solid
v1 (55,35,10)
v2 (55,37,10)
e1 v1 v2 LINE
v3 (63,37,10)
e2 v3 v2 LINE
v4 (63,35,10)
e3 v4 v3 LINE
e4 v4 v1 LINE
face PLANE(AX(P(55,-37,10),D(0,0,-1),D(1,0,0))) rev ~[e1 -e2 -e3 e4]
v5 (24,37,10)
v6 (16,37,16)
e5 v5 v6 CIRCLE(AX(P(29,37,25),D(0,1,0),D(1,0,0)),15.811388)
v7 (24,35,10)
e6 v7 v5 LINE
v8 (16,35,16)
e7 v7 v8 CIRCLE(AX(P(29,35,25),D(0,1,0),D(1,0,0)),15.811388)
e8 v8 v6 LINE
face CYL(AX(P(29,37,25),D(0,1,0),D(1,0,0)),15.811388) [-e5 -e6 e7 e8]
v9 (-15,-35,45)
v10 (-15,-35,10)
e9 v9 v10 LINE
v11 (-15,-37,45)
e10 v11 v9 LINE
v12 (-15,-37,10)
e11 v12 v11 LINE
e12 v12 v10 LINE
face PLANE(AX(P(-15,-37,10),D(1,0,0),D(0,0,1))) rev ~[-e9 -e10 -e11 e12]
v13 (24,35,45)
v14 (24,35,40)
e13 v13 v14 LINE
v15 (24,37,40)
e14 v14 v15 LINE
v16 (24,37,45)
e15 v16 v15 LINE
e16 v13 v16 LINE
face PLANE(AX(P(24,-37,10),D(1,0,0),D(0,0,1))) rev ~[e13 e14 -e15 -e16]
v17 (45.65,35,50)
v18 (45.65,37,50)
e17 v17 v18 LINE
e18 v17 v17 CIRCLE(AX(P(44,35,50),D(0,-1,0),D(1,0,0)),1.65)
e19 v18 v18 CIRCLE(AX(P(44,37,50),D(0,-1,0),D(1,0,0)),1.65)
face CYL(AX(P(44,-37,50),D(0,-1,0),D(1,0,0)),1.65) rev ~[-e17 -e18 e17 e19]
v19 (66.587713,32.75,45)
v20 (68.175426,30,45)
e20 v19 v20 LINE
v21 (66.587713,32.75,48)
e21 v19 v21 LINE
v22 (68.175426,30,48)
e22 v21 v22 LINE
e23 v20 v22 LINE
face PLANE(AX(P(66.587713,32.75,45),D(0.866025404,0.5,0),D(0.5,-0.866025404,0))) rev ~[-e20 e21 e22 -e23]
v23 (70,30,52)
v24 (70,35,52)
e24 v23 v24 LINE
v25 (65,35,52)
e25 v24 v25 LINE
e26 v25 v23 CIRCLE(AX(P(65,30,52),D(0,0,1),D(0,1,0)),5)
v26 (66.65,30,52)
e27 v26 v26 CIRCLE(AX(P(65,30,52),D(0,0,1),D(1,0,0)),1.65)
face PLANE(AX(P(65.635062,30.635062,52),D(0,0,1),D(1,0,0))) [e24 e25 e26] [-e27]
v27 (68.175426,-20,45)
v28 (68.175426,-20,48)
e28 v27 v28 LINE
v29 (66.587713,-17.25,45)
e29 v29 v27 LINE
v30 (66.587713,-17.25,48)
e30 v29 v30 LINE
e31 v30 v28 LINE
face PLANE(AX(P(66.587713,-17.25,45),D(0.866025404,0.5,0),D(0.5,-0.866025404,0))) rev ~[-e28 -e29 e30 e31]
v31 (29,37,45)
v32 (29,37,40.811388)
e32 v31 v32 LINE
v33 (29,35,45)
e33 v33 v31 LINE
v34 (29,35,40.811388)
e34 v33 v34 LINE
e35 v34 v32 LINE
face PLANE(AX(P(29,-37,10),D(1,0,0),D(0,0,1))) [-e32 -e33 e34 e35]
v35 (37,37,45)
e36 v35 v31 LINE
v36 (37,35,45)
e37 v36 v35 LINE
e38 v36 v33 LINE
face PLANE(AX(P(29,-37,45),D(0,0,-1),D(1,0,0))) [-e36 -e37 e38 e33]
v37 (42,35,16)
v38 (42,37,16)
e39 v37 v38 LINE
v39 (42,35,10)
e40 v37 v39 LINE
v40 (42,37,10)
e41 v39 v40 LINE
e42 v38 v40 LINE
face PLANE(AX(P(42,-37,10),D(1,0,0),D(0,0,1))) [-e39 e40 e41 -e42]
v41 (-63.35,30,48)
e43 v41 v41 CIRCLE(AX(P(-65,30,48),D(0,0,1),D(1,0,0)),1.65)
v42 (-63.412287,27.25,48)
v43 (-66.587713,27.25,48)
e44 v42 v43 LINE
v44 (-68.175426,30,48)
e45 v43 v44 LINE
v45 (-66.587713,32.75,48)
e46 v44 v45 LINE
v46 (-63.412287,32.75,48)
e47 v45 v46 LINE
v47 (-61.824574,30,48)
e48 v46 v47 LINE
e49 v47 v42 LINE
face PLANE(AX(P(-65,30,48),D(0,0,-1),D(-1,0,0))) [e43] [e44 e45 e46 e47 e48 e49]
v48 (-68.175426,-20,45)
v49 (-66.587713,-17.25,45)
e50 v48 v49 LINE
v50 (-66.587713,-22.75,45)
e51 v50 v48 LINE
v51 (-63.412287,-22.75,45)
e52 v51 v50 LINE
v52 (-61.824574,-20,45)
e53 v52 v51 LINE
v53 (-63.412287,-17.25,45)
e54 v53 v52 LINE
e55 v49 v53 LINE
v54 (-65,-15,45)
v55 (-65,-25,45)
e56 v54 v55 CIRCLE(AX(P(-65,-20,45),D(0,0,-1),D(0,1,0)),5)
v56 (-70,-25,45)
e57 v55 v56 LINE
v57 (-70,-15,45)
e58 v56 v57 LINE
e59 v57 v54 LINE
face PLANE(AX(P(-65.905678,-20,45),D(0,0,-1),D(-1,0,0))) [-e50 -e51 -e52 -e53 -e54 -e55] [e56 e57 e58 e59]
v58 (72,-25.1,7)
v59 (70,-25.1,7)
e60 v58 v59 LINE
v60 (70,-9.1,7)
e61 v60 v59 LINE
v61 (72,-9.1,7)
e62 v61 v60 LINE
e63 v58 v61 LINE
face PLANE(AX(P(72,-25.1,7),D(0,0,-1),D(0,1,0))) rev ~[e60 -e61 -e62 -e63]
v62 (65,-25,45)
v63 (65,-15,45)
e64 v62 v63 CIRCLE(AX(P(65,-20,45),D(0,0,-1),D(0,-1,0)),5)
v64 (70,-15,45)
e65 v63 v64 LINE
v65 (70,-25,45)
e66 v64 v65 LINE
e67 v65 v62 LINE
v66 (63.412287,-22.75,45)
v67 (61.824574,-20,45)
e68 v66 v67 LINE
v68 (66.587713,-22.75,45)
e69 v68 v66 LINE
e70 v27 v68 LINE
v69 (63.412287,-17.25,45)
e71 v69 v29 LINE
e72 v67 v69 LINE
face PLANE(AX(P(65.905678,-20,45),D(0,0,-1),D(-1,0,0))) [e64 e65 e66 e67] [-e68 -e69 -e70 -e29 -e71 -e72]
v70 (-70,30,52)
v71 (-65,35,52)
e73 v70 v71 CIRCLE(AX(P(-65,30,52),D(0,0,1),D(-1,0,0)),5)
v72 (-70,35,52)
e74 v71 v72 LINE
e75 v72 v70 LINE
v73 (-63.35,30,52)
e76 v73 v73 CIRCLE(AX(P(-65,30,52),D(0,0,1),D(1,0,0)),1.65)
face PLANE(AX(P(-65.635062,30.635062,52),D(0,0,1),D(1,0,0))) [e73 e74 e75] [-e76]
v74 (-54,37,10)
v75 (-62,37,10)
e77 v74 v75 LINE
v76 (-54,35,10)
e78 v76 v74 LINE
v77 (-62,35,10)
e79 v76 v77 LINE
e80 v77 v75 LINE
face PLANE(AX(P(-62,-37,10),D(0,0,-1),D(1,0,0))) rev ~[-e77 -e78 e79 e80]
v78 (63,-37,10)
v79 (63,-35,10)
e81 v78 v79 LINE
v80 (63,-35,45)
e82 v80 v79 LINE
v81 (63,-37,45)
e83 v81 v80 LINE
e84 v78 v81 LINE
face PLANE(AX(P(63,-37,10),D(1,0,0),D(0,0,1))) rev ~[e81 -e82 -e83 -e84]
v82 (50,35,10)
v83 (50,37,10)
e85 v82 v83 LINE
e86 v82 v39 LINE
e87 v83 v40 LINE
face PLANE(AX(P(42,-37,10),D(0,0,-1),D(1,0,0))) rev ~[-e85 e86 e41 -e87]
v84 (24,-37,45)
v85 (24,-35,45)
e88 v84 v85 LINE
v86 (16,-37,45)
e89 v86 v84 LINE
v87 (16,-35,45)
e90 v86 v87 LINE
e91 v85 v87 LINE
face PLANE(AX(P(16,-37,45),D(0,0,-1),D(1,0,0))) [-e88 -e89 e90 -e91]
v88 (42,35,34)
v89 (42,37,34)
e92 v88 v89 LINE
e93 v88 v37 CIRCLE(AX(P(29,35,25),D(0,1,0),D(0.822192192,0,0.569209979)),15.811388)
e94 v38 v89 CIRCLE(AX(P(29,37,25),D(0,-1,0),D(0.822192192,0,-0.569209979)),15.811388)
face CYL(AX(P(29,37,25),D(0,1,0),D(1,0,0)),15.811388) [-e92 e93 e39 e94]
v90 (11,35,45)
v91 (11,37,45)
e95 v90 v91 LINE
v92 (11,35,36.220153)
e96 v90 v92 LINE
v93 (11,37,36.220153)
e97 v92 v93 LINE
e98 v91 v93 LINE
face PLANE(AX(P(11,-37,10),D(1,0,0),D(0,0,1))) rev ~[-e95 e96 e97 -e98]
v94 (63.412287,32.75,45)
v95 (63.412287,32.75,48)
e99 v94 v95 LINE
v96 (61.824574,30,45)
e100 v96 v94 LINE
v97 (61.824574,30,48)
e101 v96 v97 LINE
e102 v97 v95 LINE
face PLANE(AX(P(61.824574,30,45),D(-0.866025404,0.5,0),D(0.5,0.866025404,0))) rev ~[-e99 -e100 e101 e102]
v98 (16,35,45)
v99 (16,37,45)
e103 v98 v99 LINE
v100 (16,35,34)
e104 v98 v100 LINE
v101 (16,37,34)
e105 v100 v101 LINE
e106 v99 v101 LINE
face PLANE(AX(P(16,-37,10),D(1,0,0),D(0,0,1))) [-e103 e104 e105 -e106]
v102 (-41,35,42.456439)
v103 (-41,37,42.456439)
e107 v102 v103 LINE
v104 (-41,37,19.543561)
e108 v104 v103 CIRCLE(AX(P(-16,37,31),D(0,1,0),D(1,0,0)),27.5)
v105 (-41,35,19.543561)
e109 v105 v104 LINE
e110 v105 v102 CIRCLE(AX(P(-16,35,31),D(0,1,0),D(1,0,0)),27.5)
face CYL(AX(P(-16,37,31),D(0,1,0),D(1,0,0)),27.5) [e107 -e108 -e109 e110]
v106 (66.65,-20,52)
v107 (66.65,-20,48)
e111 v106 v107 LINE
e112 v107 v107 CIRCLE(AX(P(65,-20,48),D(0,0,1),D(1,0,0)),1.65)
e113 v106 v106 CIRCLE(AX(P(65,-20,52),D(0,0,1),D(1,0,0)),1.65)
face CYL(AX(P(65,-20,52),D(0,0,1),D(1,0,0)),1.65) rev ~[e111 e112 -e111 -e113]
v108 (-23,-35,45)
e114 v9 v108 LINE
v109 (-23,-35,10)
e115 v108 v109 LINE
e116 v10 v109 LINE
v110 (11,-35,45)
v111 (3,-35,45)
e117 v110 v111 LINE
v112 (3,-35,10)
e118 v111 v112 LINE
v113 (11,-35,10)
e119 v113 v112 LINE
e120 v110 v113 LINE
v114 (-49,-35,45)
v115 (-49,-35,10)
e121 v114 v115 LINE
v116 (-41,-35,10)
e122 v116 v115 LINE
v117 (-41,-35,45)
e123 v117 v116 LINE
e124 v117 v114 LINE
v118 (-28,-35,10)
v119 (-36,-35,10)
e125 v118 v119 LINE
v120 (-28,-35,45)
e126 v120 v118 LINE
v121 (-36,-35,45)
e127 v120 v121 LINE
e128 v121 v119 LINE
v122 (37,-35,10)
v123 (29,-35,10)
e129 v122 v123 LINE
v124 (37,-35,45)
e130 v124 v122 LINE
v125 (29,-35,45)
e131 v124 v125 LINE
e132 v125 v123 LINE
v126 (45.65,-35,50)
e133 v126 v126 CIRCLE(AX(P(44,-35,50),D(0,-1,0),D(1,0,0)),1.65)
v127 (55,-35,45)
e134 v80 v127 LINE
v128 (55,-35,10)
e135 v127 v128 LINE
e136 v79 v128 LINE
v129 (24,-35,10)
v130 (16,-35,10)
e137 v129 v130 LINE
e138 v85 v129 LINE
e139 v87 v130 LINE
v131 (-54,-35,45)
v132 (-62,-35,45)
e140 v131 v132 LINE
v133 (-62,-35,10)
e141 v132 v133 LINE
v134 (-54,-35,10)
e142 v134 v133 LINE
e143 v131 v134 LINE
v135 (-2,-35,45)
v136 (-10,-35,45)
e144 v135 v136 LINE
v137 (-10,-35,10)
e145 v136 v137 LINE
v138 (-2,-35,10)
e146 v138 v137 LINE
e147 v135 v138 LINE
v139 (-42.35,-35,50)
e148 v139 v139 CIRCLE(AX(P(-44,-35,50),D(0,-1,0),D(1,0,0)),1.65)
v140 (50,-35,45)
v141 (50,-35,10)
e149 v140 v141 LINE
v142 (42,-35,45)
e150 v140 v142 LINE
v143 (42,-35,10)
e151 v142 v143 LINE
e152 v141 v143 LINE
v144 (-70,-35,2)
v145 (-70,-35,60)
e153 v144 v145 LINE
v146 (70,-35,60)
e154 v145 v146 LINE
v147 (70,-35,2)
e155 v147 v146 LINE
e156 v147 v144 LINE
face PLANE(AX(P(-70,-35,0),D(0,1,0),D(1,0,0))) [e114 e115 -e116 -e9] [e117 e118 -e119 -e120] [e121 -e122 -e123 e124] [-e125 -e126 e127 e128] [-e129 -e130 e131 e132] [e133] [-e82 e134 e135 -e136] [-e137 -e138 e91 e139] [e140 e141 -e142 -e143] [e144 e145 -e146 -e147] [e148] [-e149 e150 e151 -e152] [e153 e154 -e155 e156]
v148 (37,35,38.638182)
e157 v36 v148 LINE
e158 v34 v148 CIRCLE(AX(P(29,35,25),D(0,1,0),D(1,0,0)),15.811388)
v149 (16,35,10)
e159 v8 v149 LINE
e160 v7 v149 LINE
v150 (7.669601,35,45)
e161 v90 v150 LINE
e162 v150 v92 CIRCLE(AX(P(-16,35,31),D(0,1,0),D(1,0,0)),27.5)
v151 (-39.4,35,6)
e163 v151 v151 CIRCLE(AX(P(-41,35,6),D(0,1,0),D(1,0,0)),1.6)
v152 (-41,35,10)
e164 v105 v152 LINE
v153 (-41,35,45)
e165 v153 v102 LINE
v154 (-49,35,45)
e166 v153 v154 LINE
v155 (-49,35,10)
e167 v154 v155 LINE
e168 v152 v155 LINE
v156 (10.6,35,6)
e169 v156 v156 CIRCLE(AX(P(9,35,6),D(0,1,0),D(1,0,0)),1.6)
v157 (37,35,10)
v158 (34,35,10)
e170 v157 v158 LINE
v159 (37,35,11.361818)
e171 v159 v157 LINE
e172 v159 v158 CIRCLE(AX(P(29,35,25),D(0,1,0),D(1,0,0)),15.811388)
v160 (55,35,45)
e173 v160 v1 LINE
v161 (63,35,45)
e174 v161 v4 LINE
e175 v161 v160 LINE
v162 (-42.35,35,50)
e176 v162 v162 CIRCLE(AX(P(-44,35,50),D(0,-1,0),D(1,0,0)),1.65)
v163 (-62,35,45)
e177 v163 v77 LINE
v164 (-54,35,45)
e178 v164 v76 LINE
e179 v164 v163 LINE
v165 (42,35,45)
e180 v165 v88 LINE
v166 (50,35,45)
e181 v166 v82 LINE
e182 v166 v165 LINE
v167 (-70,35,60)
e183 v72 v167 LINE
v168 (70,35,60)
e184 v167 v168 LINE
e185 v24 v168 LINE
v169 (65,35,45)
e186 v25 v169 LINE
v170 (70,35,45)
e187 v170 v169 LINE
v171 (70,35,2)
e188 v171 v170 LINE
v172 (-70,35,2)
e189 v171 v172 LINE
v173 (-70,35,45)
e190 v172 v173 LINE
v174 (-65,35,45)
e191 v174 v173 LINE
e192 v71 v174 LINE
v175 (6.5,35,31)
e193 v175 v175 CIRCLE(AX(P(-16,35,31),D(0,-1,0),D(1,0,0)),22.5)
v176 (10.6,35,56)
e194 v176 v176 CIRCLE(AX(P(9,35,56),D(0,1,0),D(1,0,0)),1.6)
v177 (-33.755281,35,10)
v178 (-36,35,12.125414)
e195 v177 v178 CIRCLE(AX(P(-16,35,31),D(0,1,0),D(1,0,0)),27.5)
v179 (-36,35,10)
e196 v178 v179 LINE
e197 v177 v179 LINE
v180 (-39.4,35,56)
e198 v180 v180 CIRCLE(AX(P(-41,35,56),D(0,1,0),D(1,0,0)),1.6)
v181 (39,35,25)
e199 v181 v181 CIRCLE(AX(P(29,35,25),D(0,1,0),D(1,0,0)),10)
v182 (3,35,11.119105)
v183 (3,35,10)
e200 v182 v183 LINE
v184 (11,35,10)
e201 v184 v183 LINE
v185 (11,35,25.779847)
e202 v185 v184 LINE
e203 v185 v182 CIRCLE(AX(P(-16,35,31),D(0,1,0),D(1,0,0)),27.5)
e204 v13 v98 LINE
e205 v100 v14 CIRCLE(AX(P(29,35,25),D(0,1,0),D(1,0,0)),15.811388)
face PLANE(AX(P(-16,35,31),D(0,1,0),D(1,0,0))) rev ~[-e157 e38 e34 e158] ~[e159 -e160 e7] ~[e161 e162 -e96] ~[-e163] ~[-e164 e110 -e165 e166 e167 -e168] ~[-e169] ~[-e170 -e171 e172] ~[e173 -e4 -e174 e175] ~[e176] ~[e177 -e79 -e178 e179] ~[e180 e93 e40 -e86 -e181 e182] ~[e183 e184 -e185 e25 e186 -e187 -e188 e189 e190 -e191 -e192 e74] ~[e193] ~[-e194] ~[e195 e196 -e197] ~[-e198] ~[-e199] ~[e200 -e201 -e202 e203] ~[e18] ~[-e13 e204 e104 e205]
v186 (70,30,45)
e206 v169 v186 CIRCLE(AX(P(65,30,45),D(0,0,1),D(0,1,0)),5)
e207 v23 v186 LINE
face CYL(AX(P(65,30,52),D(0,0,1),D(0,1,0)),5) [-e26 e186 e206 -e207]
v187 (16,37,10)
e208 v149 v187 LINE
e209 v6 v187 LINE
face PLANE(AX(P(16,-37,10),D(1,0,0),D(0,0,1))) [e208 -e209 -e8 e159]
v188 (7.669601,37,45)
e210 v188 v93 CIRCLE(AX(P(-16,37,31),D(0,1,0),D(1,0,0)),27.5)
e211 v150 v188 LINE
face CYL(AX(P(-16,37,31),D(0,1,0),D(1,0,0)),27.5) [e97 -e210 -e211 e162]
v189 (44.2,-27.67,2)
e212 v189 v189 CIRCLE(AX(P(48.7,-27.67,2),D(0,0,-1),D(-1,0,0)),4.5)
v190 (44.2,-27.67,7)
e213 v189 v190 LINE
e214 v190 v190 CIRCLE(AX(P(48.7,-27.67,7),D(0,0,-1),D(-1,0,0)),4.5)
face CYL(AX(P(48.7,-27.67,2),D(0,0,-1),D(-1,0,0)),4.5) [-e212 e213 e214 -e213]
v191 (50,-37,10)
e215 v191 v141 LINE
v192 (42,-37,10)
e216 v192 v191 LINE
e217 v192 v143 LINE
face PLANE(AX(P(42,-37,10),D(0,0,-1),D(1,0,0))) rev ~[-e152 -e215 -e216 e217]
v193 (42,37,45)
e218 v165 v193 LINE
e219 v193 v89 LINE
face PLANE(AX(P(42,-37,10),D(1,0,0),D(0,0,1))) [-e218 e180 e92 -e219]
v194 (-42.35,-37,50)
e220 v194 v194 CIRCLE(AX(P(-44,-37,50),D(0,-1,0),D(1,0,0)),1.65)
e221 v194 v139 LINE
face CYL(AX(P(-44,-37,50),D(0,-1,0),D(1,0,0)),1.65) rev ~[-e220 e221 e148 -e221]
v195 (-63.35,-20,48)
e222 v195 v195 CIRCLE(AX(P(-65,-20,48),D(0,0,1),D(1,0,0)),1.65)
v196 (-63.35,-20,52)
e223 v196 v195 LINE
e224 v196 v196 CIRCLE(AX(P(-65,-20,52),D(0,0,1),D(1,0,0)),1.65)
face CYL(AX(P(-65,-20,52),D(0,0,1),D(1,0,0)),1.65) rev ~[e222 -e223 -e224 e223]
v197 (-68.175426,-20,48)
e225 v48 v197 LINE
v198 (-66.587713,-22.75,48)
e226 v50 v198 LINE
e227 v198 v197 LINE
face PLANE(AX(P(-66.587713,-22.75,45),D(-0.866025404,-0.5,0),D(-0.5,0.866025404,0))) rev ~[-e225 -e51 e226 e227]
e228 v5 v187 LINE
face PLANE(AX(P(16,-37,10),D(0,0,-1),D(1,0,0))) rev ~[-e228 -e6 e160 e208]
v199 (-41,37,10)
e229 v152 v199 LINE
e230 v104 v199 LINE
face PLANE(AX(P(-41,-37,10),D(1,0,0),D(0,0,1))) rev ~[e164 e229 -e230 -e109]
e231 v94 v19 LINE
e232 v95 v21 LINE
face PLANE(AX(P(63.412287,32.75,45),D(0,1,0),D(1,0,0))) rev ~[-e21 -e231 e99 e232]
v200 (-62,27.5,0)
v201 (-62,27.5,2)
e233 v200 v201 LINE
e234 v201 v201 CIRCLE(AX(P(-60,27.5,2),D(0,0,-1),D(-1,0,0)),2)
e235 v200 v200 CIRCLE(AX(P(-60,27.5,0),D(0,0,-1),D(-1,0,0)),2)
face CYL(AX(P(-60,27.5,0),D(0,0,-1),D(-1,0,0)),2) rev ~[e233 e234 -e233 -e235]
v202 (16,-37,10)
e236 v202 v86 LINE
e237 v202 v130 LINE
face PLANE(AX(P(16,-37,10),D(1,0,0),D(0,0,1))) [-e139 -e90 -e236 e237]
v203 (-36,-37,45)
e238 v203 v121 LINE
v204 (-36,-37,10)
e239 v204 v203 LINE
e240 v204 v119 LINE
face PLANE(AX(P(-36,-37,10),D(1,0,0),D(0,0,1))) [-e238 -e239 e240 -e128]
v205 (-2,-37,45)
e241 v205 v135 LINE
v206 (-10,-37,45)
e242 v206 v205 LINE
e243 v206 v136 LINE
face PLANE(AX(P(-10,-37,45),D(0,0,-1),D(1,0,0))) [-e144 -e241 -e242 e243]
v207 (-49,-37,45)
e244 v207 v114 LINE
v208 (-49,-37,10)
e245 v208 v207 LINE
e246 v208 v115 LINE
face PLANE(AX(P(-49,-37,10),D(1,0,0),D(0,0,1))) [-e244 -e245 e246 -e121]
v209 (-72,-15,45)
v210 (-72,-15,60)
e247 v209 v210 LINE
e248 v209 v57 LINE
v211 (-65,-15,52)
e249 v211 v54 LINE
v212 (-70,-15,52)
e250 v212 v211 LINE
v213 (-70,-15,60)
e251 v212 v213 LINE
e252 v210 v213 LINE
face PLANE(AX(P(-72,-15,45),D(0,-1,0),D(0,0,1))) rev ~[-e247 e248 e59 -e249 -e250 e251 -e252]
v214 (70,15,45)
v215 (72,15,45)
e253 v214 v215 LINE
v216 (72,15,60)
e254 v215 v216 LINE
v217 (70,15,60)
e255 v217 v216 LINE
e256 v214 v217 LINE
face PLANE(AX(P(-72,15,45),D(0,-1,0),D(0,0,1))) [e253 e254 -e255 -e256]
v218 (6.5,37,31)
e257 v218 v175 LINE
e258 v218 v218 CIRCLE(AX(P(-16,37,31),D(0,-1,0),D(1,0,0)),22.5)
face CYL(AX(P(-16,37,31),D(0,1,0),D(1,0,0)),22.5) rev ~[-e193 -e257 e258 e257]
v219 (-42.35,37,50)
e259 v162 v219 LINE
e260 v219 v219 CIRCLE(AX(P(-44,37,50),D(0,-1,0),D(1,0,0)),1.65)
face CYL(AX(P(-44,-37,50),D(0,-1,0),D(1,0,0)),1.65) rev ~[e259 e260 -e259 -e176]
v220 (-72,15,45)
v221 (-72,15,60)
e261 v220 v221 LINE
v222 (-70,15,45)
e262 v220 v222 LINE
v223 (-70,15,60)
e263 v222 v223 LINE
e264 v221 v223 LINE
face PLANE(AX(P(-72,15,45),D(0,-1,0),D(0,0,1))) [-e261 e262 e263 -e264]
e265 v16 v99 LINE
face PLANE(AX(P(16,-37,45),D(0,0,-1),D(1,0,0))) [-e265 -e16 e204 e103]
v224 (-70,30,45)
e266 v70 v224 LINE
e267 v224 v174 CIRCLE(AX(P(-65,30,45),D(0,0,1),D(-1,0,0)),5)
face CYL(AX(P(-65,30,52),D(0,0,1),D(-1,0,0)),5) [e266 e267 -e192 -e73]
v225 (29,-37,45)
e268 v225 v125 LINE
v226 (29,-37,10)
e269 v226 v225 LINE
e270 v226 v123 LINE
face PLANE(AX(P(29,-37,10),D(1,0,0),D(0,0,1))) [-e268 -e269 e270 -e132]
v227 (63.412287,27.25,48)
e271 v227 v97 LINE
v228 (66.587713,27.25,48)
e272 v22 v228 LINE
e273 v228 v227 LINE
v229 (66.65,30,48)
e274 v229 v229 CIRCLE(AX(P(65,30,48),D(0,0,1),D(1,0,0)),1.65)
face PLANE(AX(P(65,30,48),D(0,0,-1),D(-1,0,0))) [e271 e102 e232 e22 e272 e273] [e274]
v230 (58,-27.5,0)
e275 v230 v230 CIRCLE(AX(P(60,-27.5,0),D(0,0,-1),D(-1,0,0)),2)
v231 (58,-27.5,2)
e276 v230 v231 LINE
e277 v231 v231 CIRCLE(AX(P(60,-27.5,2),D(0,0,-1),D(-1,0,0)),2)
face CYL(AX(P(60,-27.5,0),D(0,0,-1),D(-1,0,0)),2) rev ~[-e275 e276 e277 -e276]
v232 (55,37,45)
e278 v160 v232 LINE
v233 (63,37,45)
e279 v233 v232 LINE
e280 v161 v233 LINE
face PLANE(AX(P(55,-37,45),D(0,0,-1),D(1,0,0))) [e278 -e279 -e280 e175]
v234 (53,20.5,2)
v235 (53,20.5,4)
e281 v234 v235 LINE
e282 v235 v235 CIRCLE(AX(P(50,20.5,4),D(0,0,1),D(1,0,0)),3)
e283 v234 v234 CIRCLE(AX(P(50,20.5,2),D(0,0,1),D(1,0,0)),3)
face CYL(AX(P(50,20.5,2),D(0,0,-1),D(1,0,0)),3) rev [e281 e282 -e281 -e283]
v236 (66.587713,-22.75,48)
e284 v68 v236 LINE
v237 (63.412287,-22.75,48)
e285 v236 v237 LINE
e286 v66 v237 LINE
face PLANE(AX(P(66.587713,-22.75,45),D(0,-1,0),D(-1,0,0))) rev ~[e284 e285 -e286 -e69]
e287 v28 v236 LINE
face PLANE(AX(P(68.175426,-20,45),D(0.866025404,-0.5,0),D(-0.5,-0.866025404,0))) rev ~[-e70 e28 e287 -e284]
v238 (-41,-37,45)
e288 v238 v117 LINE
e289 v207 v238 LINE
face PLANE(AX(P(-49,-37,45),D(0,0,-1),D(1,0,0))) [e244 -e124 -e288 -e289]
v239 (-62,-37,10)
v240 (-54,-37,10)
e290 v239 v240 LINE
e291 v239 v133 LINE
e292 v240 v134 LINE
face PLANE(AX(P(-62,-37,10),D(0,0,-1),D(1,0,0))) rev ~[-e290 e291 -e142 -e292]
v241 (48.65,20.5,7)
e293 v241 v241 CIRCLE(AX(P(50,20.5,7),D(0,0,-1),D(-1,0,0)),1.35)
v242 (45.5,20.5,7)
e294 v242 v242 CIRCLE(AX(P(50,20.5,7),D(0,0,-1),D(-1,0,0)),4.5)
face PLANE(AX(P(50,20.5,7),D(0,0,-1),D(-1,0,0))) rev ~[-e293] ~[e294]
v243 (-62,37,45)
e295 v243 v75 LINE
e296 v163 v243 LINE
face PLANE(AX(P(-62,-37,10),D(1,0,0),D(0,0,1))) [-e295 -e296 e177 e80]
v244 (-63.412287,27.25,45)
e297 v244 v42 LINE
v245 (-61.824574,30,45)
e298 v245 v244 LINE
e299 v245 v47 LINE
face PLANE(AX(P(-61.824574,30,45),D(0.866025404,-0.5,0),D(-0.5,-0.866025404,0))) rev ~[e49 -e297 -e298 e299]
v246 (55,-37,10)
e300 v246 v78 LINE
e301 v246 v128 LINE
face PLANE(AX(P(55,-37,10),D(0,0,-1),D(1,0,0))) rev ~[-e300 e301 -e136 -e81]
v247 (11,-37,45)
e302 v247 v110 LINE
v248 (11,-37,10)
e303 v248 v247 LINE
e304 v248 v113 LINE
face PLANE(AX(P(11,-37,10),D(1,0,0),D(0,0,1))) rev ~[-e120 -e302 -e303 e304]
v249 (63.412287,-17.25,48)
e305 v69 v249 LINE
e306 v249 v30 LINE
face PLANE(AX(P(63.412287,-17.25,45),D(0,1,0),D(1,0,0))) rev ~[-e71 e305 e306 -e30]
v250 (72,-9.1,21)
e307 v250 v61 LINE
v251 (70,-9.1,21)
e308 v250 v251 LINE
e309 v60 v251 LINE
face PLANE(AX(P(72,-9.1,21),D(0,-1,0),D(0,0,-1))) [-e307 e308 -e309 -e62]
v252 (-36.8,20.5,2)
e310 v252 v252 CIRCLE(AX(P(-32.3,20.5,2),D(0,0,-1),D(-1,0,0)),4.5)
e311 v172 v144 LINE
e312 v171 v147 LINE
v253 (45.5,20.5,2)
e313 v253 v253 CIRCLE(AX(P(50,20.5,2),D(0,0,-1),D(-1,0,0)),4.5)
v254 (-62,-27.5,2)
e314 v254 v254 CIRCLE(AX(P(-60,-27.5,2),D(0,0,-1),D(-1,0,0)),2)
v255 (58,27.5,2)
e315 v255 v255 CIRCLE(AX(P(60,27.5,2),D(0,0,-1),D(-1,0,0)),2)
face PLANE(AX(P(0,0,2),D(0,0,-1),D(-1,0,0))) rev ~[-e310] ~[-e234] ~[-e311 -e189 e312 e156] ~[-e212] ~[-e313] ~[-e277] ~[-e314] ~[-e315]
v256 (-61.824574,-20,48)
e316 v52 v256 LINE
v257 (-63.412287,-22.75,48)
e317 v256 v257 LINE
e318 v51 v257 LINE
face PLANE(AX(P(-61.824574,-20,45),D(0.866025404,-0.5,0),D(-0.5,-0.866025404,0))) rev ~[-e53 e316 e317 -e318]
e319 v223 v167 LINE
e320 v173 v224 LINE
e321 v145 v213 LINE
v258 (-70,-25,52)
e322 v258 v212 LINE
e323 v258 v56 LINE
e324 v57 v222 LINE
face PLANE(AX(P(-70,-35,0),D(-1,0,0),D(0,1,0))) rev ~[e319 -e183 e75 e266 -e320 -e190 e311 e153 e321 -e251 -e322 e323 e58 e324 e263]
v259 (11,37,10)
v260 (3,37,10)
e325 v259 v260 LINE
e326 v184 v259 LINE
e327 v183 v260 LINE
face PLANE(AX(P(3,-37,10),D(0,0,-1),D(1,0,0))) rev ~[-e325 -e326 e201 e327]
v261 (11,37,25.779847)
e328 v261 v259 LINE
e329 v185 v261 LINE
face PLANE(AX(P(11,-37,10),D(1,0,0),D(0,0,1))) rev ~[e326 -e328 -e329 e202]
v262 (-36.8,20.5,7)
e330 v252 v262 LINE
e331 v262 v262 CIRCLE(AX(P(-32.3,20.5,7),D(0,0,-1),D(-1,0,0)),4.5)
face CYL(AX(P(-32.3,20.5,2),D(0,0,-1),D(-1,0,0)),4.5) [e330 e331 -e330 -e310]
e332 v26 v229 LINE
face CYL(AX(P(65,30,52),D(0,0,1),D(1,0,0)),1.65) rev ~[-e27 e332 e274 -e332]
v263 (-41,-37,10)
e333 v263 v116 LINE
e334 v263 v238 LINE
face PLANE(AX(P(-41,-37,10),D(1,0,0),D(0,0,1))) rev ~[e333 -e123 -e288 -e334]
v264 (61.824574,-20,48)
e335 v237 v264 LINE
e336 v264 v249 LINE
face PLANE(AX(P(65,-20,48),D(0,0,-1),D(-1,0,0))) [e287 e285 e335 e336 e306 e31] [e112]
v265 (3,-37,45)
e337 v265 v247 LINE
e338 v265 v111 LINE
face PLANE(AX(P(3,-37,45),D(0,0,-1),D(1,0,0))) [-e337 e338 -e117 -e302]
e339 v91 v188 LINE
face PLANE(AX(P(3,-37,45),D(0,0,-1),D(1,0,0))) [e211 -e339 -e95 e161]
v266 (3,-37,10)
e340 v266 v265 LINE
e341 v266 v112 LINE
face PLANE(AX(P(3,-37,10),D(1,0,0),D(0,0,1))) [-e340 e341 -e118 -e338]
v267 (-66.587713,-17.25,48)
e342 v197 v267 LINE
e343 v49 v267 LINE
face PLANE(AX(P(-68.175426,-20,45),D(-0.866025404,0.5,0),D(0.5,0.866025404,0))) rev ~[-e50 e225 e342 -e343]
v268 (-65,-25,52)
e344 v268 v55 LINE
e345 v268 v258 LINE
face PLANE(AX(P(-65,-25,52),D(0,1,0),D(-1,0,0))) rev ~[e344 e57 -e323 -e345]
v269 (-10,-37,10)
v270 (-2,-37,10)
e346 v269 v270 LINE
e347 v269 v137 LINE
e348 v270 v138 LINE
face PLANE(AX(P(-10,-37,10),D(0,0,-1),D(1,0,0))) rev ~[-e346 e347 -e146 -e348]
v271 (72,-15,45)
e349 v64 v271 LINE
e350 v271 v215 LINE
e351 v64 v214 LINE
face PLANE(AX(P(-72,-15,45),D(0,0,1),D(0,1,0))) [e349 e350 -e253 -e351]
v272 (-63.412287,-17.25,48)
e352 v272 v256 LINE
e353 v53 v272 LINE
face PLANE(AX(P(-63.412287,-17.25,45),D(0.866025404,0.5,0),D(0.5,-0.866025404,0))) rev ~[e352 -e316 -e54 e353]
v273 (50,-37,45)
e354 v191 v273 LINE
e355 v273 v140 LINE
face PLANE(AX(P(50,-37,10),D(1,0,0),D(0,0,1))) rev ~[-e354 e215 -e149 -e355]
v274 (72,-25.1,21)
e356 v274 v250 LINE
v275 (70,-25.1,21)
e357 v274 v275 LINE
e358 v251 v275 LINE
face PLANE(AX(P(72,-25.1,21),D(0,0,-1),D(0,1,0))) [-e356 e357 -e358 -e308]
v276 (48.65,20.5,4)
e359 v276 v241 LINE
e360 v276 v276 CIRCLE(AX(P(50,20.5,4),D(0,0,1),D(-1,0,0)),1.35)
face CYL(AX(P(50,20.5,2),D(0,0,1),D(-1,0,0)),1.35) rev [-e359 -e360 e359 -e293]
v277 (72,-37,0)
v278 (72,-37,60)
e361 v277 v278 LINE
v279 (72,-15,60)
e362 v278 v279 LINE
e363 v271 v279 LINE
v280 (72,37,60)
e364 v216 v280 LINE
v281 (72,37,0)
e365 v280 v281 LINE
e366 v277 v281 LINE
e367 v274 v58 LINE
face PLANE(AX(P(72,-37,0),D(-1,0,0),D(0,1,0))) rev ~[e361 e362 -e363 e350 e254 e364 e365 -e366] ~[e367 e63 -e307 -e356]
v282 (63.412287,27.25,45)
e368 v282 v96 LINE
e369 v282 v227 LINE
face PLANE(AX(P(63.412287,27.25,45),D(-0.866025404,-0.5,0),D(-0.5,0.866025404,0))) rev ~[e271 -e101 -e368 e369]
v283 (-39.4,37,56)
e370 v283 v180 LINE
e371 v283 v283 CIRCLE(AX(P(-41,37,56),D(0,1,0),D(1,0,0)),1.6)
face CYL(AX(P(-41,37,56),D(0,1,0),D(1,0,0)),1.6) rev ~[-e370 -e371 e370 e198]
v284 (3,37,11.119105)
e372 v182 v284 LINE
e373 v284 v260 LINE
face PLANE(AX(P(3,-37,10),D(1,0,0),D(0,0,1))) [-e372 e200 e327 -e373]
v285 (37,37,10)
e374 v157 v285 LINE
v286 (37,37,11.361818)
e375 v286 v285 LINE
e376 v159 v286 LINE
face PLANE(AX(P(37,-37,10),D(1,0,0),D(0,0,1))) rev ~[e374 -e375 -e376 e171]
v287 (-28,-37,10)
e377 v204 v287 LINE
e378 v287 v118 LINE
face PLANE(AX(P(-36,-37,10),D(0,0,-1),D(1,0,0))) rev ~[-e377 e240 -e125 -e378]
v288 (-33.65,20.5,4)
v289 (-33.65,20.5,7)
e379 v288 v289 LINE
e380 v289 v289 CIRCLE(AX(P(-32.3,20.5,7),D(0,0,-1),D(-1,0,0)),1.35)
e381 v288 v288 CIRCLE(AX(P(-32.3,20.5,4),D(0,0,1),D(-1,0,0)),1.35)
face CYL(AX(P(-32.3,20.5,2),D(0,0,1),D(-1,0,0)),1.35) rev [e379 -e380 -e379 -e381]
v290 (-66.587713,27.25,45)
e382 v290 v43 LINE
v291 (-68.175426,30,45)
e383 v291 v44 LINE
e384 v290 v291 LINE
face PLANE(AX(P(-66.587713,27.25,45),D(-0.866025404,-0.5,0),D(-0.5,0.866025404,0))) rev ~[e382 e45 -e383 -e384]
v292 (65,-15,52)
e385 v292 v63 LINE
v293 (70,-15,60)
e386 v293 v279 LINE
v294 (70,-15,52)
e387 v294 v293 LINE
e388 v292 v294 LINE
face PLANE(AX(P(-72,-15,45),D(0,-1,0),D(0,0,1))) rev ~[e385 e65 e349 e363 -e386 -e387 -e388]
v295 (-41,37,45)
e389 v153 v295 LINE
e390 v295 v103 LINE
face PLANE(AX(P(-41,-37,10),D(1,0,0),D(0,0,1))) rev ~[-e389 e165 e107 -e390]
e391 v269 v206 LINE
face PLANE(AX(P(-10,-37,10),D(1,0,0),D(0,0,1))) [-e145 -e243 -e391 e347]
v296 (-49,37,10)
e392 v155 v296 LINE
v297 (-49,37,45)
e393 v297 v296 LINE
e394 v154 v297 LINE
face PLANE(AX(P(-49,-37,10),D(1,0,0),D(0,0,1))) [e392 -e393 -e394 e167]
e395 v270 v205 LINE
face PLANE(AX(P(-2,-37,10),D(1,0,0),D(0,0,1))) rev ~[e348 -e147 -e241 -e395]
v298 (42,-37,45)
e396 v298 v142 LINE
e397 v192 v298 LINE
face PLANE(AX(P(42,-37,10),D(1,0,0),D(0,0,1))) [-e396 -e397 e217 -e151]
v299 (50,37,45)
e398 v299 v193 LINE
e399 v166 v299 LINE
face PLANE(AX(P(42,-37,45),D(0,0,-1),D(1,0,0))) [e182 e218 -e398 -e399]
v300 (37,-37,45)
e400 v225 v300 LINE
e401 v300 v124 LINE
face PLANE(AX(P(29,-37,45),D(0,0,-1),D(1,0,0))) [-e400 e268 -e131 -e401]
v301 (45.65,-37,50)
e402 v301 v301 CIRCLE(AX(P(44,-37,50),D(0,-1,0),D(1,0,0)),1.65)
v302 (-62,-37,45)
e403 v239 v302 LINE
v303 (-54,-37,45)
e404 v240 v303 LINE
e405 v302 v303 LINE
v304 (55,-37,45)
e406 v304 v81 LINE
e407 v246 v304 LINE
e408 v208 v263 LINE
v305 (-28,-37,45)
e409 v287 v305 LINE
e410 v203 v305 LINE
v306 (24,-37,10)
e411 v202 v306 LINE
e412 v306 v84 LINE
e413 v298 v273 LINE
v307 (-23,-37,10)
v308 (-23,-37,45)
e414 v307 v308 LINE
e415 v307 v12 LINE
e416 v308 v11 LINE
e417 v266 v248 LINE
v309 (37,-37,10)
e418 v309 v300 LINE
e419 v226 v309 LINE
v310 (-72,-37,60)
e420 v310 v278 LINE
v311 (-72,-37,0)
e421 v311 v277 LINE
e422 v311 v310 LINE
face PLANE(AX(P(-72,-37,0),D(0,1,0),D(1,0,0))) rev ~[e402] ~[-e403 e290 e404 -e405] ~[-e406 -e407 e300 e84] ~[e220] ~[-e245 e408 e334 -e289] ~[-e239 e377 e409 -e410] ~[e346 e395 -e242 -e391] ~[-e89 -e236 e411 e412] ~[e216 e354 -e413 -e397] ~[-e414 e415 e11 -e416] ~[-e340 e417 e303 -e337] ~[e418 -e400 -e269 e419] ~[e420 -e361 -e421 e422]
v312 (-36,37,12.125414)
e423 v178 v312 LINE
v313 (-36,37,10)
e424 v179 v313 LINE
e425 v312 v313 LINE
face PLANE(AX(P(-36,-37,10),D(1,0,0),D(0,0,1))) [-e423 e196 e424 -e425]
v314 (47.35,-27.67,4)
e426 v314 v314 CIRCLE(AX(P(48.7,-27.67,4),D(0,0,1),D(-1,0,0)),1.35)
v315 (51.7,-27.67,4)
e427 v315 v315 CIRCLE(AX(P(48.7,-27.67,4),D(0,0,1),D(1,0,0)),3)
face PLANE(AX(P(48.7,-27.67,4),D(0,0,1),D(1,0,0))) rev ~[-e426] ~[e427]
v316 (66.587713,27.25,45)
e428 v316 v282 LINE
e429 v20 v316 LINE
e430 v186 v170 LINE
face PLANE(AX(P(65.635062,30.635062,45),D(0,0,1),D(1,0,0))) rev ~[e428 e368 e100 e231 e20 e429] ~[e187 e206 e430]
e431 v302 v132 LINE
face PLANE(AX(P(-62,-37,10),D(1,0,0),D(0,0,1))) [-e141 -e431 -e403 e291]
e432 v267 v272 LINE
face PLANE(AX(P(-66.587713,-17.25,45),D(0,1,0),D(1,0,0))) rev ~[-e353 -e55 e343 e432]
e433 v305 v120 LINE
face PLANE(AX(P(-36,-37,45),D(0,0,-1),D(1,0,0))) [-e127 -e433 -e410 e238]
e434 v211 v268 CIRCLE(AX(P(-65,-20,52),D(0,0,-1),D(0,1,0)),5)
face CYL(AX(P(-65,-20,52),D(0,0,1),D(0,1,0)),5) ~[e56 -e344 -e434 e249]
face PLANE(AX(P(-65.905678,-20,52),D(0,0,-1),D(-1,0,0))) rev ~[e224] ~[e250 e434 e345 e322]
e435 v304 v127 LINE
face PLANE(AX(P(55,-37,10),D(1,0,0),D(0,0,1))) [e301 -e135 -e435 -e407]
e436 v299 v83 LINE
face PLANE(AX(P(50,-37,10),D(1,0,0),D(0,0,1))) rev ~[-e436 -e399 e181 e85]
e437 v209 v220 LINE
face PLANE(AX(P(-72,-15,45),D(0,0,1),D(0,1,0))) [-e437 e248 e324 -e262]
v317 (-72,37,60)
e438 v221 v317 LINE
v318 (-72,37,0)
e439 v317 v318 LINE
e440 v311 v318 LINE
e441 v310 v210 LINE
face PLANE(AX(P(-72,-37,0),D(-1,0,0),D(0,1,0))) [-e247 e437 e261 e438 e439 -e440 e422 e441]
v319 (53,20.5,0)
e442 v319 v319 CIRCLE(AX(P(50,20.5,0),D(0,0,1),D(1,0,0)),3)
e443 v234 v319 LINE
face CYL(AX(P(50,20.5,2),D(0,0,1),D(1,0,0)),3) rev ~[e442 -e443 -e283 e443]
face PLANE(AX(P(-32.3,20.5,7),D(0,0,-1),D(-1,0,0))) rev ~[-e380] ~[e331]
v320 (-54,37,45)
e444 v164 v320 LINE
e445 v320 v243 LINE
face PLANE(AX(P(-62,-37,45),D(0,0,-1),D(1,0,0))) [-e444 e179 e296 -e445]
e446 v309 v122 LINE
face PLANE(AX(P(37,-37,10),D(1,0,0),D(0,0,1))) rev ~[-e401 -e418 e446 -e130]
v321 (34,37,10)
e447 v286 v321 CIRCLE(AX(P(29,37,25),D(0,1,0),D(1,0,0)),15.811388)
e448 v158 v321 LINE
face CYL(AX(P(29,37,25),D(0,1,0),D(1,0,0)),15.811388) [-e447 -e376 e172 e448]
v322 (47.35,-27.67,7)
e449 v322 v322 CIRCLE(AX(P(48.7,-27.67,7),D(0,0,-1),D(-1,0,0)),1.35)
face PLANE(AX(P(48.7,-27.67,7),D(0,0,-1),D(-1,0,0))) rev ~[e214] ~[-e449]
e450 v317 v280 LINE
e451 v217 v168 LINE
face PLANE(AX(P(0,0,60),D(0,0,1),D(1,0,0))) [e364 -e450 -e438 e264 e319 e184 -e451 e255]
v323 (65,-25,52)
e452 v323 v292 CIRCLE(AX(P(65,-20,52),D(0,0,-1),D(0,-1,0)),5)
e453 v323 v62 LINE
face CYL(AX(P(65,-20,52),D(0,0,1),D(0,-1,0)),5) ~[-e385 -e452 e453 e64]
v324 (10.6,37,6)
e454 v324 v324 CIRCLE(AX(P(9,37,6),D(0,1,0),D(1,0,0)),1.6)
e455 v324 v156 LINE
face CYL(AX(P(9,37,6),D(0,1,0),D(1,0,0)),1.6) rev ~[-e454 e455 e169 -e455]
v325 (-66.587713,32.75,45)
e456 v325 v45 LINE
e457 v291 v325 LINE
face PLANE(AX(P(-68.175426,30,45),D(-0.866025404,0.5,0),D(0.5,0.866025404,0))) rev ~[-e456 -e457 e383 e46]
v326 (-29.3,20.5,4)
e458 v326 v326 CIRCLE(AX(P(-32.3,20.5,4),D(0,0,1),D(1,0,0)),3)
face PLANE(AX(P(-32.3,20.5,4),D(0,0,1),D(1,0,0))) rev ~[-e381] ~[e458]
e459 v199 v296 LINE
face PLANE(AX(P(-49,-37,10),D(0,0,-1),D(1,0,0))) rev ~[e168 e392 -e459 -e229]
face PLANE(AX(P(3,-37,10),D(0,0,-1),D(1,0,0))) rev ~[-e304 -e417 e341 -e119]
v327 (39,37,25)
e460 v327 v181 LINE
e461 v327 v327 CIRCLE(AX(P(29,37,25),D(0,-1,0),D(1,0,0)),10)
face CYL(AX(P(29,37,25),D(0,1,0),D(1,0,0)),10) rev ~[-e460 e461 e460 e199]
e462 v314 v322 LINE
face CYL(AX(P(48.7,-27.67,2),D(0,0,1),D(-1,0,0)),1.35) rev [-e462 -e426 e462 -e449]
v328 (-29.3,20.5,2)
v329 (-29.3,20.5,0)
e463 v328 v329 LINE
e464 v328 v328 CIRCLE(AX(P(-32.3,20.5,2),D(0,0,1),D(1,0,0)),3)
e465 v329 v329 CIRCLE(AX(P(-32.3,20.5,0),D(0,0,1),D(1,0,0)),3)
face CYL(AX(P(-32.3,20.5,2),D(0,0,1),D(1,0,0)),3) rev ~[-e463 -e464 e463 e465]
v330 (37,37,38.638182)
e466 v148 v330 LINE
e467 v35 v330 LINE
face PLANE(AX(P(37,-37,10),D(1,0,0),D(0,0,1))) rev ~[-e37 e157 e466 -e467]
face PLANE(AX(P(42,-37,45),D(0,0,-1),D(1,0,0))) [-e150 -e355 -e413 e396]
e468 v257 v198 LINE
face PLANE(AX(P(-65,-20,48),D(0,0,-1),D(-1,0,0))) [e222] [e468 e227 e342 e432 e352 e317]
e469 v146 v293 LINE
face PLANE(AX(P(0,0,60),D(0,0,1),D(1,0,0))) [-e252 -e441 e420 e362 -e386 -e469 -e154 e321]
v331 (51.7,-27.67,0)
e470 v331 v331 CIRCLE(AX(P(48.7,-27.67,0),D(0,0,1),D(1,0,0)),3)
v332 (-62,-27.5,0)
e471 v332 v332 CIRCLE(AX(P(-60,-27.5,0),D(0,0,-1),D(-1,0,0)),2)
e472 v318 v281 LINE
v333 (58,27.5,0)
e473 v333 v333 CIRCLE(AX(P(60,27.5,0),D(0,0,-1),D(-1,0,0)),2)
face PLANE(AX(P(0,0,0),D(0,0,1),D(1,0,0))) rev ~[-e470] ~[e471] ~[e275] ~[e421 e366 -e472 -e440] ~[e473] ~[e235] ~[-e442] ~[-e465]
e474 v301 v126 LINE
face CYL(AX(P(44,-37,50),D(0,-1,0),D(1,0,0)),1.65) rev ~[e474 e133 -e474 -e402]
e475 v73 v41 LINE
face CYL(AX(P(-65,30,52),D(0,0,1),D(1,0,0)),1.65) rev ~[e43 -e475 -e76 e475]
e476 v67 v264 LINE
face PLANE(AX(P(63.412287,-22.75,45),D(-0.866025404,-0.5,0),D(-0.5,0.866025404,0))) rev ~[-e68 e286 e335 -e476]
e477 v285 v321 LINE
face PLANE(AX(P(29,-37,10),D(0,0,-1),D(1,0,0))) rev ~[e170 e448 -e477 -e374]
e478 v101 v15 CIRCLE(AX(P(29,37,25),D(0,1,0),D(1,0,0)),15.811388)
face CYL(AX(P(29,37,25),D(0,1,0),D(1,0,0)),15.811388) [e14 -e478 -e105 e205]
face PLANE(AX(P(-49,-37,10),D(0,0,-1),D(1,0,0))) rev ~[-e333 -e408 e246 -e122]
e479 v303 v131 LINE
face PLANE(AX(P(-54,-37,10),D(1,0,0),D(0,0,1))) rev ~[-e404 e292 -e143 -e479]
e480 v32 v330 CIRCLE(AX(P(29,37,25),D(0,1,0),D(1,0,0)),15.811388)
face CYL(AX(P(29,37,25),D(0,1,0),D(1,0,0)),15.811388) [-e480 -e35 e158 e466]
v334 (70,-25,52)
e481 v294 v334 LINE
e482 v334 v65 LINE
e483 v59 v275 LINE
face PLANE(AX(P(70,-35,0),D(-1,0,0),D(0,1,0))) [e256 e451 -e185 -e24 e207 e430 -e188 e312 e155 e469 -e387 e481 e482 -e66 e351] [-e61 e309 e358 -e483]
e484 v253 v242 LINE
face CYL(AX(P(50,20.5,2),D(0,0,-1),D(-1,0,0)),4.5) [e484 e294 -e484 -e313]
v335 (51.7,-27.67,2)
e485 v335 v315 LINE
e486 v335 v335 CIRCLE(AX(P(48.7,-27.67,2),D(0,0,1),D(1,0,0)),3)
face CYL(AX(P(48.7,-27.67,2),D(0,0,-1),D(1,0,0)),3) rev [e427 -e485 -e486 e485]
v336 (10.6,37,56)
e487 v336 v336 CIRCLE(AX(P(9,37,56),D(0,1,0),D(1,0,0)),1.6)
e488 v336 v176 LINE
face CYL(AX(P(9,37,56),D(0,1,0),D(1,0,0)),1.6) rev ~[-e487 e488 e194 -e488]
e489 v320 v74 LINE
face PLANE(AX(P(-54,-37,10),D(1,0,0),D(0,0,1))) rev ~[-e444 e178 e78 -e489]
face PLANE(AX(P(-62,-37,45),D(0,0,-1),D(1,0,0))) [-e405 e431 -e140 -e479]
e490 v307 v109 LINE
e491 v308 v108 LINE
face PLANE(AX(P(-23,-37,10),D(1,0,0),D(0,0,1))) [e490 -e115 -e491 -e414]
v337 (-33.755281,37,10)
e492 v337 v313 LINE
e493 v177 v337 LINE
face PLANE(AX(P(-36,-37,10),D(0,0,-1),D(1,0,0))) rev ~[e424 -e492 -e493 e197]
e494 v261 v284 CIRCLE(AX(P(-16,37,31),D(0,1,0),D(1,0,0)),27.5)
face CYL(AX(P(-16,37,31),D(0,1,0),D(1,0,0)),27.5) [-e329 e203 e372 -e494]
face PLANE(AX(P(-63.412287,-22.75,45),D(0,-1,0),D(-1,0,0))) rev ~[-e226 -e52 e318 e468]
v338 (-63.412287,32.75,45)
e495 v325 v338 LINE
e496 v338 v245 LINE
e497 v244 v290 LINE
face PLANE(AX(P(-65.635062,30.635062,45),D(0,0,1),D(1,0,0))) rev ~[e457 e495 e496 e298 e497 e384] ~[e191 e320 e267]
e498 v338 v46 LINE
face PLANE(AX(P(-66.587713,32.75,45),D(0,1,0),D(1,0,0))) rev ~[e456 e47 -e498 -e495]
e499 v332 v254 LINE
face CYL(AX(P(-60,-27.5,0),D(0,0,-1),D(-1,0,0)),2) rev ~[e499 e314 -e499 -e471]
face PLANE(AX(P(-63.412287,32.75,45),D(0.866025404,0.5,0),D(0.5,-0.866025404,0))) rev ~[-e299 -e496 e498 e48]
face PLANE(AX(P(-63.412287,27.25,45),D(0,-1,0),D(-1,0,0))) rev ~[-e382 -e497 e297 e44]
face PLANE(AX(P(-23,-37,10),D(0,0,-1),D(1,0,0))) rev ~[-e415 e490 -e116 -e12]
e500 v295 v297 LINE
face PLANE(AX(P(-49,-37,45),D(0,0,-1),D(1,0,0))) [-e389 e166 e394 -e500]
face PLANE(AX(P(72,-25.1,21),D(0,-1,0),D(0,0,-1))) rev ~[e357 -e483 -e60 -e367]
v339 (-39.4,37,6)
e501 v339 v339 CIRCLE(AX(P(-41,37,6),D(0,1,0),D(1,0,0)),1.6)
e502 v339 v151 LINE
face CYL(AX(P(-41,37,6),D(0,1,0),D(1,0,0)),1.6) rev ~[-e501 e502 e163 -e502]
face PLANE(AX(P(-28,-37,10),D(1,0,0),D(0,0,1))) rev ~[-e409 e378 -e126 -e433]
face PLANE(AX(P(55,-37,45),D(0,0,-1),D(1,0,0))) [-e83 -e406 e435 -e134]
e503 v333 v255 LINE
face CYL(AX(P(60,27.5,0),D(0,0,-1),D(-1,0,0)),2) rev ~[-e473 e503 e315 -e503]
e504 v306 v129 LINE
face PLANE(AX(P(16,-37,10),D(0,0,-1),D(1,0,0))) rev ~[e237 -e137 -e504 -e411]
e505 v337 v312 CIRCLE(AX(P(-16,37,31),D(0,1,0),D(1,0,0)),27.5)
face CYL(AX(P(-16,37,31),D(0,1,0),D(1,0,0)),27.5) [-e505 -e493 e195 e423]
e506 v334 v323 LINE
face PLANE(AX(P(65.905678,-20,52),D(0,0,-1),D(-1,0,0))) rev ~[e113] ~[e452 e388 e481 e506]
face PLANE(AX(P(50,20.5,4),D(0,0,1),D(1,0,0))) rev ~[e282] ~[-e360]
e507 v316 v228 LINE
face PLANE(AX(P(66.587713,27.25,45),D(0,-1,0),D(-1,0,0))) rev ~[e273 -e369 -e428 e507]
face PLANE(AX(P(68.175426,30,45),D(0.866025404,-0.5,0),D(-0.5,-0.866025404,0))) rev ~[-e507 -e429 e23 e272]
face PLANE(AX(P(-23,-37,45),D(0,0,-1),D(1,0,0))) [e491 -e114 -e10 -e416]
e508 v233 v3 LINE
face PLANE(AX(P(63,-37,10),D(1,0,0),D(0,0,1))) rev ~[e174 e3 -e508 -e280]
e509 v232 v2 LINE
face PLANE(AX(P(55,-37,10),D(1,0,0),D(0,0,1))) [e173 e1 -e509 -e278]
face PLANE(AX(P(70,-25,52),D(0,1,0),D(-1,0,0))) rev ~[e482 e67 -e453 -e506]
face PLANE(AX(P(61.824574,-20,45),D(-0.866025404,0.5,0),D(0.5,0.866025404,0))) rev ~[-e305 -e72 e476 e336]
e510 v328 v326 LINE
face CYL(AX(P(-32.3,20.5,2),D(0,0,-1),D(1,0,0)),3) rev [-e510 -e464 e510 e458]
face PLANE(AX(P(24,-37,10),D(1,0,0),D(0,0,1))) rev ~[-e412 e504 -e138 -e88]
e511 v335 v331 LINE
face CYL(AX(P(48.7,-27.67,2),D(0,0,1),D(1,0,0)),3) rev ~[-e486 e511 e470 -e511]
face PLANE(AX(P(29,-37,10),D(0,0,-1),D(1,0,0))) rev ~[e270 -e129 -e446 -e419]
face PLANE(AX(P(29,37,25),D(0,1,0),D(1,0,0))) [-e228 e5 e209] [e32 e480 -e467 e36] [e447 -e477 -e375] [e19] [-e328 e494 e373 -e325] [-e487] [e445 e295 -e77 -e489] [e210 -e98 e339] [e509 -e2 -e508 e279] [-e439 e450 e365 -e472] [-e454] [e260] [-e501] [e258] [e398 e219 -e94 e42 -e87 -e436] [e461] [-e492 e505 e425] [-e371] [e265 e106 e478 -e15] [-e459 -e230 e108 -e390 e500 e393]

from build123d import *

# Parameters (mm, degrees)
ESBO_O1_W                  = 144
ESBO_O1_H                  = 74
ESBO_O1_W_2                = 140
ESBO_O1_H_2                = 70
RESSALTO_EXTRUS_O1_DEPTH   = 60
ESBO_O2_W                  = 144
ESBO_O2_H                  = 74
ESBO_O2_R                  = 2
RESSALTO_EXTRUS_O2_DEPTH   = 2
ESBO_O3_W                  = 14
ESBO_O3_H                  = 16
USB_FONTE_DEPTH            = 10
ESBO_O6_R                  = 1.65
ESBO_O6_W                  = 8
ESBO_O6_H                  = 35
SAIDA_DE_AR_DEPTH          = 1
SAIDA_DE_AR_DEPTH_BACK     = 75
ESBO_O7_W                  = 15
ESBO_O7_H                  = 30
DISPLAY_DEPTH              = 145
ESBO_O8_R                  = 4.5
ESBO_O8_R_2                = 1.35
RESSALTO_EXTRUS_O3_DEPTH   = 5
ESBO_O8_3_R                = 1.35
CORTE_EXTRUS_O4_DEPTH      = 3
ESBO_O9_R                  = 3
CORTE_EXTRUS_O5_DEPTH      = 2
CORTE_EXTRUS_O5_DEPTH_BACK = 10
RESSALTO_EXTRUS_O4_START   = -8
ESBO_O11_R                 = 1.65
RESSALTO_EXTRUS_O4_DEPTH   = 7
CORTE_EXTRUS_O6_DEPTH      = 3
ESBO_O13_R                 = 15.811388301
ESBO_O13_R_2               = 10
RESSALTO_EXTRUS_O5_DEPTH   = 2
ESBO_O13_3_R               = 10
CORTE_EXTRUS_O7_DEPTH      = 10
ESBO_O15_R                 = 22.5
ESBO_O15_R_2               = 1.6
CORTE_EXTRUS_O9_DEPTH      = 10
ESBO_O15_3_R               = 27.5
ESBO_O15_3_R_2             = 22.5
RESSALTO_EXTRUS_O6_DEPTH   = 2


with BuildPart() as part:
    # Esboço1 → Ressalto-extrusão1 (new body)
    with BuildSketch(Plane.XY):
        Rectangle(ESBO_O1_W, ESBO_O1_H)
        Rectangle(ESBO_O1_W_2, ESBO_O1_H_2, mode=Mode.SUBTRACT)
    extrude(amount=RESSALTO_EXTRUS_O1_DEPTH)

    # Esboço2 → Ressalto-extrusão2 (add)
    with BuildSketch(Plane(origin=(0, 0, 0), x_dir=(-1, 0, 0), z_dir=(0, 0, -1))):
        Rectangle(ESBO_O2_W, ESBO_O2_H)
        with Locations((-60, -27.5)):
            Circle(ESBO_O2_R, mode=Mode.SUBTRACT)
        with Locations((60, -27.5)):
            Circle(ESBO_O2_R, mode=Mode.SUBTRACT)
        with Locations((60, 27.5)):
            Circle(ESBO_O2_R, mode=Mode.SUBTRACT)
        with Locations((-60, 27.5)):
            Circle(ESBO_O2_R, mode=Mode.SUBTRACT)
    extrude(amount=-RESSALTO_EXTRUS_O2_DEPTH)

    # Esboço3 → USB + fonte (cut)
    with BuildSketch(Plane(origin=(72, 0, 0), x_dir=(0, 0, -1), z_dir=(1, 0, 0))):
        with Locations((-14, -17.1)):
            Rectangle(ESBO_O3_W, ESBO_O3_H)
    extrude(amount=-USB_FONTE_DEPTH, mode=Mode.SUBTRACT)

    # Esboço6 → saida de ar (cut, two sides)
    with BuildSketch(Plane.XZ.offset(37)) as saida_de_ar_sk:
        with Locations((-44, 50)):
            Circle(ESBO_O6_R)
        with Locations((44, 50)):
            Circle(ESBO_O6_R)
        with Locations((-58, 27.5)):
            Rectangle(ESBO_O6_W, ESBO_O6_H)
        with Locations((-45, 27.5)):
            Rectangle(ESBO_O6_W, ESBO_O6_H)
        with Locations((-32, 27.5)):
            Rectangle(ESBO_O6_W, ESBO_O6_H)
        with Locations((-19, 27.5)):
            Rectangle(ESBO_O6_W, ESBO_O6_H)
        with Locations((-6, 27.5)):
            Rectangle(ESBO_O6_W, ESBO_O6_H)
        with Locations((7, 27.5)):
            Rectangle(ESBO_O6_W, ESBO_O6_H)
        with Locations((20, 27.5)):
            Rectangle(ESBO_O6_W, ESBO_O6_H)
        with Locations((33, 27.5)):
            Rectangle(ESBO_O6_W, ESBO_O6_H)
        with Locations((46, 27.5)):
            Rectangle(ESBO_O6_W, ESBO_O6_H)
        with Locations((59, 27.5)):
            Rectangle(ESBO_O6_W, ESBO_O6_H)
    extrude(amount=SAIDA_DE_AR_DEPTH, mode=Mode.SUBTRACT)
    extrude(saida_de_ar_sk.sketch, amount=-SAIDA_DE_AR_DEPTH_BACK, mode=Mode.SUBTRACT)

    # Esboço7 → display (cut, through all)
    with BuildSketch(Plane.ZY.offset(72)):
        with Locations((52.5, 0)):
            Rectangle(ESBO_O7_W, ESBO_O7_H)
    extrude(amount=-DISPLAY_DEPTH, mode=Mode.SUBTRACT)

    # Esboço8 → Ressalto-extrusão3 (add)
    with BuildSketch(Plane(origin=(0, 0, 2), x_dir=(-1, 0, 0), z_dir=(0, 0, -1))):
        with Locations((32.3, 20.5)):
            Circle(ESBO_O8_R)
        with Locations((32.3, 20.5)):
            Circle(ESBO_O8_R_2, mode=Mode.SUBTRACT)
        with Locations((-50, 20.5)):
            Circle(ESBO_O8_R)
        with Locations((-50, 20.5)):
            Circle(ESBO_O8_R_2, mode=Mode.SUBTRACT)
        with Locations((-48.7, -27.67)):
            Circle(ESBO_O8_R)
        with Locations((-48.7, -27.67)):
            Circle(ESBO_O8_R_2, mode=Mode.SUBTRACT)
    extrude(amount=-RESSALTO_EXTRUS_O3_DEPTH)

    # Esboço8<3> → Corte-extrusão4 (cut, through all)
    with BuildSketch(Plane(origin=(0, 0, 2), x_dir=(-1, 0, 0), z_dir=(0, 0, -1))):
        with Locations((-48.7, -27.67)):
            Circle(ESBO_O8_3_R)
        with Locations((32.3, 20.5)):
            Circle(ESBO_O8_3_R)
        with Locations((-50, 20.5)):
            Circle(ESBO_O8_3_R)
    extrude(amount=CORTE_EXTRUS_O4_DEPTH, mode=Mode.SUBTRACT)

    # Esboço9 → Corte-extrusão5 (cut, two sides)
    with BuildSketch(Plane.XY.offset(2)) as corte_extrus_o5_sk:
        with Locations((50, 20.5)):
            Circle(ESBO_O9_R)
        with Locations((48.7, -27.67)):
            Circle(ESBO_O9_R)
        with Locations((-32.3, 20.5)):
            Circle(ESBO_O9_R)
    extrude(amount=CORTE_EXTRUS_O5_DEPTH, mode=Mode.SUBTRACT)
    extrude(corte_extrus_o5_sk.sketch, amount=-CORTE_EXTRUS_O5_DEPTH_BACK, mode=Mode.SUBTRACT)

    # Esboço11 → Ressalto-extrusão4 (add)
    with BuildSketch(Plane.XY.offset(60).offset(RESSALTO_EXTRUS_O4_START)):
        with BuildLine():
            Line((70, -25), (65, -25))
            ThreePointArc((65, -25), (60, -20), (65, -15))
            Line((65, -15), (70, -15))
            Line((70, -15), (70, -25))
        make_face()
        with Locations((65, -20)):
            Circle(ESBO_O11_R, mode=Mode.SUBTRACT)
        with BuildLine():
            Line((70, 35), (65, 35))
            ThreePointArc((65, 35), (61.464466094, 26.464466094), (70, 30))
            Line((70, 30), (70, 35))
        make_face()
        with Locations((65, 30)):
            Circle(ESBO_O11_R, mode=Mode.SUBTRACT)
        with BuildLine():
            Line((-70, -25), (-70, -15))
            Line((-70, -15), (-65, -15))
            ThreePointArc((-65, -15), (-60, -20), (-65, -25))
            Line((-65, -25), (-70, -25))
        make_face()
        with Locations((-65, -20)):
            Circle(ESBO_O11_R, mode=Mode.SUBTRACT)
        with BuildLine():
            Line((-65, 35), (-70, 35))
            Line((-70, 35), (-70, 30))
            ThreePointArc((-70, 30), (-61.464466094, 26.464466094), (-65, 35))
        make_face()
        with Locations((-65, 30)):
            Circle(ESBO_O11_R, mode=Mode.SUBTRACT)
    extrude(amount=-RESSALTO_EXTRUS_O4_DEPTH)

    # Esboço12 → Corte-extrusão6 (cut)
    with BuildSketch(Plane(origin=(0, 0, 45), x_dir=(-1, 0, 0), z_dir=(0, 0, -1))):
        Polygon((-61.824573519, 30), (-63.41228676, 32.75), (-66.58771324, 32.75), (-68.175426481, 30), (-66.58771324, 27.25), (-63.41228676, 27.25), align=None)
        Polygon((61.824573519, 30), (63.41228676, 27.25), (66.58771324, 27.25), (68.175426481, 30), (66.58771324, 32.75), (63.41228676, 32.75), align=None)
        Polygon((-61.824573519, -20), (-63.41228676, -17.25), (-66.58771324, -17.25), (-68.175426481, -20), (-66.58771324, -22.75), (-63.41228676, -22.75), align=None)
        Polygon((61.824573519, -20), (63.41228676, -22.75), (66.58771324, -22.75), (68.175426481, -20), (66.58771324, -17.25), (63.41228676, -17.25), align=None)
    extrude(amount=-CORTE_EXTRUS_O6_DEPTH, mode=Mode.SUBTRACT)

    # Esboço13 → Ressalto-extrusão5 (add)
    with BuildSketch(Plane(origin=(0, 37, 0), x_dir=(1, 0, 0), z_dir=(0, 1, 0))):
        with Locations((29, -25)):
            Circle(ESBO_O13_R)
        with Locations((29, -25)):
            Circle(ESBO_O13_R_2, mode=Mode.SUBTRACT)
    extrude(amount=-RESSALTO_EXTRUS_O5_DEPTH)

    # Esboço13<3> → Corte-extrusão7 (cut)
    with BuildSketch(Plane(origin=(0, 37, 0), x_dir=(1, 0, 0), z_dir=(0, 1, 0))):
        with Locations((29, -25)):
            Circle(ESBO_O13_3_R)
    extrude(amount=-CORTE_EXTRUS_O7_DEPTH, mode=Mode.SUBTRACT)

    # Esboço15 → Corte-extrusão9 (cut)
    with BuildSketch(Plane(origin=(0, 37, 0), x_dir=(1, 0, 0), z_dir=(0, 1, 0))):
        with Locations((-16, -31)):
            Circle(ESBO_O15_R)
        with Locations((-41, -56)):
            Circle(ESBO_O15_R_2)
        with Locations((9, -56)):
            Circle(ESBO_O15_R_2)
        with Locations((-41, -6)):
            Circle(ESBO_O15_R_2)
        with Locations((9, -6)):
            Circle(ESBO_O15_R_2)
    extrude(amount=-CORTE_EXTRUS_O9_DEPTH, mode=Mode.SUBTRACT)

    # Esboço15<3> → Ressalto-extrusão6 (add)
    with BuildSketch(Plane(origin=(0, 37, 0), x_dir=(1, 0, 0), z_dir=(0, 1, 0))):
        with Locations((-16, -31)):
            Circle(ESBO_O15_3_R)
        with Locations((-16, -31)):
            Circle(ESBO_O15_3_R_2, mode=Mode.SUBTRACT)
    extrude(amount=-RESSALTO_EXTRUS_O6_DEPTH)


solid = part.part
